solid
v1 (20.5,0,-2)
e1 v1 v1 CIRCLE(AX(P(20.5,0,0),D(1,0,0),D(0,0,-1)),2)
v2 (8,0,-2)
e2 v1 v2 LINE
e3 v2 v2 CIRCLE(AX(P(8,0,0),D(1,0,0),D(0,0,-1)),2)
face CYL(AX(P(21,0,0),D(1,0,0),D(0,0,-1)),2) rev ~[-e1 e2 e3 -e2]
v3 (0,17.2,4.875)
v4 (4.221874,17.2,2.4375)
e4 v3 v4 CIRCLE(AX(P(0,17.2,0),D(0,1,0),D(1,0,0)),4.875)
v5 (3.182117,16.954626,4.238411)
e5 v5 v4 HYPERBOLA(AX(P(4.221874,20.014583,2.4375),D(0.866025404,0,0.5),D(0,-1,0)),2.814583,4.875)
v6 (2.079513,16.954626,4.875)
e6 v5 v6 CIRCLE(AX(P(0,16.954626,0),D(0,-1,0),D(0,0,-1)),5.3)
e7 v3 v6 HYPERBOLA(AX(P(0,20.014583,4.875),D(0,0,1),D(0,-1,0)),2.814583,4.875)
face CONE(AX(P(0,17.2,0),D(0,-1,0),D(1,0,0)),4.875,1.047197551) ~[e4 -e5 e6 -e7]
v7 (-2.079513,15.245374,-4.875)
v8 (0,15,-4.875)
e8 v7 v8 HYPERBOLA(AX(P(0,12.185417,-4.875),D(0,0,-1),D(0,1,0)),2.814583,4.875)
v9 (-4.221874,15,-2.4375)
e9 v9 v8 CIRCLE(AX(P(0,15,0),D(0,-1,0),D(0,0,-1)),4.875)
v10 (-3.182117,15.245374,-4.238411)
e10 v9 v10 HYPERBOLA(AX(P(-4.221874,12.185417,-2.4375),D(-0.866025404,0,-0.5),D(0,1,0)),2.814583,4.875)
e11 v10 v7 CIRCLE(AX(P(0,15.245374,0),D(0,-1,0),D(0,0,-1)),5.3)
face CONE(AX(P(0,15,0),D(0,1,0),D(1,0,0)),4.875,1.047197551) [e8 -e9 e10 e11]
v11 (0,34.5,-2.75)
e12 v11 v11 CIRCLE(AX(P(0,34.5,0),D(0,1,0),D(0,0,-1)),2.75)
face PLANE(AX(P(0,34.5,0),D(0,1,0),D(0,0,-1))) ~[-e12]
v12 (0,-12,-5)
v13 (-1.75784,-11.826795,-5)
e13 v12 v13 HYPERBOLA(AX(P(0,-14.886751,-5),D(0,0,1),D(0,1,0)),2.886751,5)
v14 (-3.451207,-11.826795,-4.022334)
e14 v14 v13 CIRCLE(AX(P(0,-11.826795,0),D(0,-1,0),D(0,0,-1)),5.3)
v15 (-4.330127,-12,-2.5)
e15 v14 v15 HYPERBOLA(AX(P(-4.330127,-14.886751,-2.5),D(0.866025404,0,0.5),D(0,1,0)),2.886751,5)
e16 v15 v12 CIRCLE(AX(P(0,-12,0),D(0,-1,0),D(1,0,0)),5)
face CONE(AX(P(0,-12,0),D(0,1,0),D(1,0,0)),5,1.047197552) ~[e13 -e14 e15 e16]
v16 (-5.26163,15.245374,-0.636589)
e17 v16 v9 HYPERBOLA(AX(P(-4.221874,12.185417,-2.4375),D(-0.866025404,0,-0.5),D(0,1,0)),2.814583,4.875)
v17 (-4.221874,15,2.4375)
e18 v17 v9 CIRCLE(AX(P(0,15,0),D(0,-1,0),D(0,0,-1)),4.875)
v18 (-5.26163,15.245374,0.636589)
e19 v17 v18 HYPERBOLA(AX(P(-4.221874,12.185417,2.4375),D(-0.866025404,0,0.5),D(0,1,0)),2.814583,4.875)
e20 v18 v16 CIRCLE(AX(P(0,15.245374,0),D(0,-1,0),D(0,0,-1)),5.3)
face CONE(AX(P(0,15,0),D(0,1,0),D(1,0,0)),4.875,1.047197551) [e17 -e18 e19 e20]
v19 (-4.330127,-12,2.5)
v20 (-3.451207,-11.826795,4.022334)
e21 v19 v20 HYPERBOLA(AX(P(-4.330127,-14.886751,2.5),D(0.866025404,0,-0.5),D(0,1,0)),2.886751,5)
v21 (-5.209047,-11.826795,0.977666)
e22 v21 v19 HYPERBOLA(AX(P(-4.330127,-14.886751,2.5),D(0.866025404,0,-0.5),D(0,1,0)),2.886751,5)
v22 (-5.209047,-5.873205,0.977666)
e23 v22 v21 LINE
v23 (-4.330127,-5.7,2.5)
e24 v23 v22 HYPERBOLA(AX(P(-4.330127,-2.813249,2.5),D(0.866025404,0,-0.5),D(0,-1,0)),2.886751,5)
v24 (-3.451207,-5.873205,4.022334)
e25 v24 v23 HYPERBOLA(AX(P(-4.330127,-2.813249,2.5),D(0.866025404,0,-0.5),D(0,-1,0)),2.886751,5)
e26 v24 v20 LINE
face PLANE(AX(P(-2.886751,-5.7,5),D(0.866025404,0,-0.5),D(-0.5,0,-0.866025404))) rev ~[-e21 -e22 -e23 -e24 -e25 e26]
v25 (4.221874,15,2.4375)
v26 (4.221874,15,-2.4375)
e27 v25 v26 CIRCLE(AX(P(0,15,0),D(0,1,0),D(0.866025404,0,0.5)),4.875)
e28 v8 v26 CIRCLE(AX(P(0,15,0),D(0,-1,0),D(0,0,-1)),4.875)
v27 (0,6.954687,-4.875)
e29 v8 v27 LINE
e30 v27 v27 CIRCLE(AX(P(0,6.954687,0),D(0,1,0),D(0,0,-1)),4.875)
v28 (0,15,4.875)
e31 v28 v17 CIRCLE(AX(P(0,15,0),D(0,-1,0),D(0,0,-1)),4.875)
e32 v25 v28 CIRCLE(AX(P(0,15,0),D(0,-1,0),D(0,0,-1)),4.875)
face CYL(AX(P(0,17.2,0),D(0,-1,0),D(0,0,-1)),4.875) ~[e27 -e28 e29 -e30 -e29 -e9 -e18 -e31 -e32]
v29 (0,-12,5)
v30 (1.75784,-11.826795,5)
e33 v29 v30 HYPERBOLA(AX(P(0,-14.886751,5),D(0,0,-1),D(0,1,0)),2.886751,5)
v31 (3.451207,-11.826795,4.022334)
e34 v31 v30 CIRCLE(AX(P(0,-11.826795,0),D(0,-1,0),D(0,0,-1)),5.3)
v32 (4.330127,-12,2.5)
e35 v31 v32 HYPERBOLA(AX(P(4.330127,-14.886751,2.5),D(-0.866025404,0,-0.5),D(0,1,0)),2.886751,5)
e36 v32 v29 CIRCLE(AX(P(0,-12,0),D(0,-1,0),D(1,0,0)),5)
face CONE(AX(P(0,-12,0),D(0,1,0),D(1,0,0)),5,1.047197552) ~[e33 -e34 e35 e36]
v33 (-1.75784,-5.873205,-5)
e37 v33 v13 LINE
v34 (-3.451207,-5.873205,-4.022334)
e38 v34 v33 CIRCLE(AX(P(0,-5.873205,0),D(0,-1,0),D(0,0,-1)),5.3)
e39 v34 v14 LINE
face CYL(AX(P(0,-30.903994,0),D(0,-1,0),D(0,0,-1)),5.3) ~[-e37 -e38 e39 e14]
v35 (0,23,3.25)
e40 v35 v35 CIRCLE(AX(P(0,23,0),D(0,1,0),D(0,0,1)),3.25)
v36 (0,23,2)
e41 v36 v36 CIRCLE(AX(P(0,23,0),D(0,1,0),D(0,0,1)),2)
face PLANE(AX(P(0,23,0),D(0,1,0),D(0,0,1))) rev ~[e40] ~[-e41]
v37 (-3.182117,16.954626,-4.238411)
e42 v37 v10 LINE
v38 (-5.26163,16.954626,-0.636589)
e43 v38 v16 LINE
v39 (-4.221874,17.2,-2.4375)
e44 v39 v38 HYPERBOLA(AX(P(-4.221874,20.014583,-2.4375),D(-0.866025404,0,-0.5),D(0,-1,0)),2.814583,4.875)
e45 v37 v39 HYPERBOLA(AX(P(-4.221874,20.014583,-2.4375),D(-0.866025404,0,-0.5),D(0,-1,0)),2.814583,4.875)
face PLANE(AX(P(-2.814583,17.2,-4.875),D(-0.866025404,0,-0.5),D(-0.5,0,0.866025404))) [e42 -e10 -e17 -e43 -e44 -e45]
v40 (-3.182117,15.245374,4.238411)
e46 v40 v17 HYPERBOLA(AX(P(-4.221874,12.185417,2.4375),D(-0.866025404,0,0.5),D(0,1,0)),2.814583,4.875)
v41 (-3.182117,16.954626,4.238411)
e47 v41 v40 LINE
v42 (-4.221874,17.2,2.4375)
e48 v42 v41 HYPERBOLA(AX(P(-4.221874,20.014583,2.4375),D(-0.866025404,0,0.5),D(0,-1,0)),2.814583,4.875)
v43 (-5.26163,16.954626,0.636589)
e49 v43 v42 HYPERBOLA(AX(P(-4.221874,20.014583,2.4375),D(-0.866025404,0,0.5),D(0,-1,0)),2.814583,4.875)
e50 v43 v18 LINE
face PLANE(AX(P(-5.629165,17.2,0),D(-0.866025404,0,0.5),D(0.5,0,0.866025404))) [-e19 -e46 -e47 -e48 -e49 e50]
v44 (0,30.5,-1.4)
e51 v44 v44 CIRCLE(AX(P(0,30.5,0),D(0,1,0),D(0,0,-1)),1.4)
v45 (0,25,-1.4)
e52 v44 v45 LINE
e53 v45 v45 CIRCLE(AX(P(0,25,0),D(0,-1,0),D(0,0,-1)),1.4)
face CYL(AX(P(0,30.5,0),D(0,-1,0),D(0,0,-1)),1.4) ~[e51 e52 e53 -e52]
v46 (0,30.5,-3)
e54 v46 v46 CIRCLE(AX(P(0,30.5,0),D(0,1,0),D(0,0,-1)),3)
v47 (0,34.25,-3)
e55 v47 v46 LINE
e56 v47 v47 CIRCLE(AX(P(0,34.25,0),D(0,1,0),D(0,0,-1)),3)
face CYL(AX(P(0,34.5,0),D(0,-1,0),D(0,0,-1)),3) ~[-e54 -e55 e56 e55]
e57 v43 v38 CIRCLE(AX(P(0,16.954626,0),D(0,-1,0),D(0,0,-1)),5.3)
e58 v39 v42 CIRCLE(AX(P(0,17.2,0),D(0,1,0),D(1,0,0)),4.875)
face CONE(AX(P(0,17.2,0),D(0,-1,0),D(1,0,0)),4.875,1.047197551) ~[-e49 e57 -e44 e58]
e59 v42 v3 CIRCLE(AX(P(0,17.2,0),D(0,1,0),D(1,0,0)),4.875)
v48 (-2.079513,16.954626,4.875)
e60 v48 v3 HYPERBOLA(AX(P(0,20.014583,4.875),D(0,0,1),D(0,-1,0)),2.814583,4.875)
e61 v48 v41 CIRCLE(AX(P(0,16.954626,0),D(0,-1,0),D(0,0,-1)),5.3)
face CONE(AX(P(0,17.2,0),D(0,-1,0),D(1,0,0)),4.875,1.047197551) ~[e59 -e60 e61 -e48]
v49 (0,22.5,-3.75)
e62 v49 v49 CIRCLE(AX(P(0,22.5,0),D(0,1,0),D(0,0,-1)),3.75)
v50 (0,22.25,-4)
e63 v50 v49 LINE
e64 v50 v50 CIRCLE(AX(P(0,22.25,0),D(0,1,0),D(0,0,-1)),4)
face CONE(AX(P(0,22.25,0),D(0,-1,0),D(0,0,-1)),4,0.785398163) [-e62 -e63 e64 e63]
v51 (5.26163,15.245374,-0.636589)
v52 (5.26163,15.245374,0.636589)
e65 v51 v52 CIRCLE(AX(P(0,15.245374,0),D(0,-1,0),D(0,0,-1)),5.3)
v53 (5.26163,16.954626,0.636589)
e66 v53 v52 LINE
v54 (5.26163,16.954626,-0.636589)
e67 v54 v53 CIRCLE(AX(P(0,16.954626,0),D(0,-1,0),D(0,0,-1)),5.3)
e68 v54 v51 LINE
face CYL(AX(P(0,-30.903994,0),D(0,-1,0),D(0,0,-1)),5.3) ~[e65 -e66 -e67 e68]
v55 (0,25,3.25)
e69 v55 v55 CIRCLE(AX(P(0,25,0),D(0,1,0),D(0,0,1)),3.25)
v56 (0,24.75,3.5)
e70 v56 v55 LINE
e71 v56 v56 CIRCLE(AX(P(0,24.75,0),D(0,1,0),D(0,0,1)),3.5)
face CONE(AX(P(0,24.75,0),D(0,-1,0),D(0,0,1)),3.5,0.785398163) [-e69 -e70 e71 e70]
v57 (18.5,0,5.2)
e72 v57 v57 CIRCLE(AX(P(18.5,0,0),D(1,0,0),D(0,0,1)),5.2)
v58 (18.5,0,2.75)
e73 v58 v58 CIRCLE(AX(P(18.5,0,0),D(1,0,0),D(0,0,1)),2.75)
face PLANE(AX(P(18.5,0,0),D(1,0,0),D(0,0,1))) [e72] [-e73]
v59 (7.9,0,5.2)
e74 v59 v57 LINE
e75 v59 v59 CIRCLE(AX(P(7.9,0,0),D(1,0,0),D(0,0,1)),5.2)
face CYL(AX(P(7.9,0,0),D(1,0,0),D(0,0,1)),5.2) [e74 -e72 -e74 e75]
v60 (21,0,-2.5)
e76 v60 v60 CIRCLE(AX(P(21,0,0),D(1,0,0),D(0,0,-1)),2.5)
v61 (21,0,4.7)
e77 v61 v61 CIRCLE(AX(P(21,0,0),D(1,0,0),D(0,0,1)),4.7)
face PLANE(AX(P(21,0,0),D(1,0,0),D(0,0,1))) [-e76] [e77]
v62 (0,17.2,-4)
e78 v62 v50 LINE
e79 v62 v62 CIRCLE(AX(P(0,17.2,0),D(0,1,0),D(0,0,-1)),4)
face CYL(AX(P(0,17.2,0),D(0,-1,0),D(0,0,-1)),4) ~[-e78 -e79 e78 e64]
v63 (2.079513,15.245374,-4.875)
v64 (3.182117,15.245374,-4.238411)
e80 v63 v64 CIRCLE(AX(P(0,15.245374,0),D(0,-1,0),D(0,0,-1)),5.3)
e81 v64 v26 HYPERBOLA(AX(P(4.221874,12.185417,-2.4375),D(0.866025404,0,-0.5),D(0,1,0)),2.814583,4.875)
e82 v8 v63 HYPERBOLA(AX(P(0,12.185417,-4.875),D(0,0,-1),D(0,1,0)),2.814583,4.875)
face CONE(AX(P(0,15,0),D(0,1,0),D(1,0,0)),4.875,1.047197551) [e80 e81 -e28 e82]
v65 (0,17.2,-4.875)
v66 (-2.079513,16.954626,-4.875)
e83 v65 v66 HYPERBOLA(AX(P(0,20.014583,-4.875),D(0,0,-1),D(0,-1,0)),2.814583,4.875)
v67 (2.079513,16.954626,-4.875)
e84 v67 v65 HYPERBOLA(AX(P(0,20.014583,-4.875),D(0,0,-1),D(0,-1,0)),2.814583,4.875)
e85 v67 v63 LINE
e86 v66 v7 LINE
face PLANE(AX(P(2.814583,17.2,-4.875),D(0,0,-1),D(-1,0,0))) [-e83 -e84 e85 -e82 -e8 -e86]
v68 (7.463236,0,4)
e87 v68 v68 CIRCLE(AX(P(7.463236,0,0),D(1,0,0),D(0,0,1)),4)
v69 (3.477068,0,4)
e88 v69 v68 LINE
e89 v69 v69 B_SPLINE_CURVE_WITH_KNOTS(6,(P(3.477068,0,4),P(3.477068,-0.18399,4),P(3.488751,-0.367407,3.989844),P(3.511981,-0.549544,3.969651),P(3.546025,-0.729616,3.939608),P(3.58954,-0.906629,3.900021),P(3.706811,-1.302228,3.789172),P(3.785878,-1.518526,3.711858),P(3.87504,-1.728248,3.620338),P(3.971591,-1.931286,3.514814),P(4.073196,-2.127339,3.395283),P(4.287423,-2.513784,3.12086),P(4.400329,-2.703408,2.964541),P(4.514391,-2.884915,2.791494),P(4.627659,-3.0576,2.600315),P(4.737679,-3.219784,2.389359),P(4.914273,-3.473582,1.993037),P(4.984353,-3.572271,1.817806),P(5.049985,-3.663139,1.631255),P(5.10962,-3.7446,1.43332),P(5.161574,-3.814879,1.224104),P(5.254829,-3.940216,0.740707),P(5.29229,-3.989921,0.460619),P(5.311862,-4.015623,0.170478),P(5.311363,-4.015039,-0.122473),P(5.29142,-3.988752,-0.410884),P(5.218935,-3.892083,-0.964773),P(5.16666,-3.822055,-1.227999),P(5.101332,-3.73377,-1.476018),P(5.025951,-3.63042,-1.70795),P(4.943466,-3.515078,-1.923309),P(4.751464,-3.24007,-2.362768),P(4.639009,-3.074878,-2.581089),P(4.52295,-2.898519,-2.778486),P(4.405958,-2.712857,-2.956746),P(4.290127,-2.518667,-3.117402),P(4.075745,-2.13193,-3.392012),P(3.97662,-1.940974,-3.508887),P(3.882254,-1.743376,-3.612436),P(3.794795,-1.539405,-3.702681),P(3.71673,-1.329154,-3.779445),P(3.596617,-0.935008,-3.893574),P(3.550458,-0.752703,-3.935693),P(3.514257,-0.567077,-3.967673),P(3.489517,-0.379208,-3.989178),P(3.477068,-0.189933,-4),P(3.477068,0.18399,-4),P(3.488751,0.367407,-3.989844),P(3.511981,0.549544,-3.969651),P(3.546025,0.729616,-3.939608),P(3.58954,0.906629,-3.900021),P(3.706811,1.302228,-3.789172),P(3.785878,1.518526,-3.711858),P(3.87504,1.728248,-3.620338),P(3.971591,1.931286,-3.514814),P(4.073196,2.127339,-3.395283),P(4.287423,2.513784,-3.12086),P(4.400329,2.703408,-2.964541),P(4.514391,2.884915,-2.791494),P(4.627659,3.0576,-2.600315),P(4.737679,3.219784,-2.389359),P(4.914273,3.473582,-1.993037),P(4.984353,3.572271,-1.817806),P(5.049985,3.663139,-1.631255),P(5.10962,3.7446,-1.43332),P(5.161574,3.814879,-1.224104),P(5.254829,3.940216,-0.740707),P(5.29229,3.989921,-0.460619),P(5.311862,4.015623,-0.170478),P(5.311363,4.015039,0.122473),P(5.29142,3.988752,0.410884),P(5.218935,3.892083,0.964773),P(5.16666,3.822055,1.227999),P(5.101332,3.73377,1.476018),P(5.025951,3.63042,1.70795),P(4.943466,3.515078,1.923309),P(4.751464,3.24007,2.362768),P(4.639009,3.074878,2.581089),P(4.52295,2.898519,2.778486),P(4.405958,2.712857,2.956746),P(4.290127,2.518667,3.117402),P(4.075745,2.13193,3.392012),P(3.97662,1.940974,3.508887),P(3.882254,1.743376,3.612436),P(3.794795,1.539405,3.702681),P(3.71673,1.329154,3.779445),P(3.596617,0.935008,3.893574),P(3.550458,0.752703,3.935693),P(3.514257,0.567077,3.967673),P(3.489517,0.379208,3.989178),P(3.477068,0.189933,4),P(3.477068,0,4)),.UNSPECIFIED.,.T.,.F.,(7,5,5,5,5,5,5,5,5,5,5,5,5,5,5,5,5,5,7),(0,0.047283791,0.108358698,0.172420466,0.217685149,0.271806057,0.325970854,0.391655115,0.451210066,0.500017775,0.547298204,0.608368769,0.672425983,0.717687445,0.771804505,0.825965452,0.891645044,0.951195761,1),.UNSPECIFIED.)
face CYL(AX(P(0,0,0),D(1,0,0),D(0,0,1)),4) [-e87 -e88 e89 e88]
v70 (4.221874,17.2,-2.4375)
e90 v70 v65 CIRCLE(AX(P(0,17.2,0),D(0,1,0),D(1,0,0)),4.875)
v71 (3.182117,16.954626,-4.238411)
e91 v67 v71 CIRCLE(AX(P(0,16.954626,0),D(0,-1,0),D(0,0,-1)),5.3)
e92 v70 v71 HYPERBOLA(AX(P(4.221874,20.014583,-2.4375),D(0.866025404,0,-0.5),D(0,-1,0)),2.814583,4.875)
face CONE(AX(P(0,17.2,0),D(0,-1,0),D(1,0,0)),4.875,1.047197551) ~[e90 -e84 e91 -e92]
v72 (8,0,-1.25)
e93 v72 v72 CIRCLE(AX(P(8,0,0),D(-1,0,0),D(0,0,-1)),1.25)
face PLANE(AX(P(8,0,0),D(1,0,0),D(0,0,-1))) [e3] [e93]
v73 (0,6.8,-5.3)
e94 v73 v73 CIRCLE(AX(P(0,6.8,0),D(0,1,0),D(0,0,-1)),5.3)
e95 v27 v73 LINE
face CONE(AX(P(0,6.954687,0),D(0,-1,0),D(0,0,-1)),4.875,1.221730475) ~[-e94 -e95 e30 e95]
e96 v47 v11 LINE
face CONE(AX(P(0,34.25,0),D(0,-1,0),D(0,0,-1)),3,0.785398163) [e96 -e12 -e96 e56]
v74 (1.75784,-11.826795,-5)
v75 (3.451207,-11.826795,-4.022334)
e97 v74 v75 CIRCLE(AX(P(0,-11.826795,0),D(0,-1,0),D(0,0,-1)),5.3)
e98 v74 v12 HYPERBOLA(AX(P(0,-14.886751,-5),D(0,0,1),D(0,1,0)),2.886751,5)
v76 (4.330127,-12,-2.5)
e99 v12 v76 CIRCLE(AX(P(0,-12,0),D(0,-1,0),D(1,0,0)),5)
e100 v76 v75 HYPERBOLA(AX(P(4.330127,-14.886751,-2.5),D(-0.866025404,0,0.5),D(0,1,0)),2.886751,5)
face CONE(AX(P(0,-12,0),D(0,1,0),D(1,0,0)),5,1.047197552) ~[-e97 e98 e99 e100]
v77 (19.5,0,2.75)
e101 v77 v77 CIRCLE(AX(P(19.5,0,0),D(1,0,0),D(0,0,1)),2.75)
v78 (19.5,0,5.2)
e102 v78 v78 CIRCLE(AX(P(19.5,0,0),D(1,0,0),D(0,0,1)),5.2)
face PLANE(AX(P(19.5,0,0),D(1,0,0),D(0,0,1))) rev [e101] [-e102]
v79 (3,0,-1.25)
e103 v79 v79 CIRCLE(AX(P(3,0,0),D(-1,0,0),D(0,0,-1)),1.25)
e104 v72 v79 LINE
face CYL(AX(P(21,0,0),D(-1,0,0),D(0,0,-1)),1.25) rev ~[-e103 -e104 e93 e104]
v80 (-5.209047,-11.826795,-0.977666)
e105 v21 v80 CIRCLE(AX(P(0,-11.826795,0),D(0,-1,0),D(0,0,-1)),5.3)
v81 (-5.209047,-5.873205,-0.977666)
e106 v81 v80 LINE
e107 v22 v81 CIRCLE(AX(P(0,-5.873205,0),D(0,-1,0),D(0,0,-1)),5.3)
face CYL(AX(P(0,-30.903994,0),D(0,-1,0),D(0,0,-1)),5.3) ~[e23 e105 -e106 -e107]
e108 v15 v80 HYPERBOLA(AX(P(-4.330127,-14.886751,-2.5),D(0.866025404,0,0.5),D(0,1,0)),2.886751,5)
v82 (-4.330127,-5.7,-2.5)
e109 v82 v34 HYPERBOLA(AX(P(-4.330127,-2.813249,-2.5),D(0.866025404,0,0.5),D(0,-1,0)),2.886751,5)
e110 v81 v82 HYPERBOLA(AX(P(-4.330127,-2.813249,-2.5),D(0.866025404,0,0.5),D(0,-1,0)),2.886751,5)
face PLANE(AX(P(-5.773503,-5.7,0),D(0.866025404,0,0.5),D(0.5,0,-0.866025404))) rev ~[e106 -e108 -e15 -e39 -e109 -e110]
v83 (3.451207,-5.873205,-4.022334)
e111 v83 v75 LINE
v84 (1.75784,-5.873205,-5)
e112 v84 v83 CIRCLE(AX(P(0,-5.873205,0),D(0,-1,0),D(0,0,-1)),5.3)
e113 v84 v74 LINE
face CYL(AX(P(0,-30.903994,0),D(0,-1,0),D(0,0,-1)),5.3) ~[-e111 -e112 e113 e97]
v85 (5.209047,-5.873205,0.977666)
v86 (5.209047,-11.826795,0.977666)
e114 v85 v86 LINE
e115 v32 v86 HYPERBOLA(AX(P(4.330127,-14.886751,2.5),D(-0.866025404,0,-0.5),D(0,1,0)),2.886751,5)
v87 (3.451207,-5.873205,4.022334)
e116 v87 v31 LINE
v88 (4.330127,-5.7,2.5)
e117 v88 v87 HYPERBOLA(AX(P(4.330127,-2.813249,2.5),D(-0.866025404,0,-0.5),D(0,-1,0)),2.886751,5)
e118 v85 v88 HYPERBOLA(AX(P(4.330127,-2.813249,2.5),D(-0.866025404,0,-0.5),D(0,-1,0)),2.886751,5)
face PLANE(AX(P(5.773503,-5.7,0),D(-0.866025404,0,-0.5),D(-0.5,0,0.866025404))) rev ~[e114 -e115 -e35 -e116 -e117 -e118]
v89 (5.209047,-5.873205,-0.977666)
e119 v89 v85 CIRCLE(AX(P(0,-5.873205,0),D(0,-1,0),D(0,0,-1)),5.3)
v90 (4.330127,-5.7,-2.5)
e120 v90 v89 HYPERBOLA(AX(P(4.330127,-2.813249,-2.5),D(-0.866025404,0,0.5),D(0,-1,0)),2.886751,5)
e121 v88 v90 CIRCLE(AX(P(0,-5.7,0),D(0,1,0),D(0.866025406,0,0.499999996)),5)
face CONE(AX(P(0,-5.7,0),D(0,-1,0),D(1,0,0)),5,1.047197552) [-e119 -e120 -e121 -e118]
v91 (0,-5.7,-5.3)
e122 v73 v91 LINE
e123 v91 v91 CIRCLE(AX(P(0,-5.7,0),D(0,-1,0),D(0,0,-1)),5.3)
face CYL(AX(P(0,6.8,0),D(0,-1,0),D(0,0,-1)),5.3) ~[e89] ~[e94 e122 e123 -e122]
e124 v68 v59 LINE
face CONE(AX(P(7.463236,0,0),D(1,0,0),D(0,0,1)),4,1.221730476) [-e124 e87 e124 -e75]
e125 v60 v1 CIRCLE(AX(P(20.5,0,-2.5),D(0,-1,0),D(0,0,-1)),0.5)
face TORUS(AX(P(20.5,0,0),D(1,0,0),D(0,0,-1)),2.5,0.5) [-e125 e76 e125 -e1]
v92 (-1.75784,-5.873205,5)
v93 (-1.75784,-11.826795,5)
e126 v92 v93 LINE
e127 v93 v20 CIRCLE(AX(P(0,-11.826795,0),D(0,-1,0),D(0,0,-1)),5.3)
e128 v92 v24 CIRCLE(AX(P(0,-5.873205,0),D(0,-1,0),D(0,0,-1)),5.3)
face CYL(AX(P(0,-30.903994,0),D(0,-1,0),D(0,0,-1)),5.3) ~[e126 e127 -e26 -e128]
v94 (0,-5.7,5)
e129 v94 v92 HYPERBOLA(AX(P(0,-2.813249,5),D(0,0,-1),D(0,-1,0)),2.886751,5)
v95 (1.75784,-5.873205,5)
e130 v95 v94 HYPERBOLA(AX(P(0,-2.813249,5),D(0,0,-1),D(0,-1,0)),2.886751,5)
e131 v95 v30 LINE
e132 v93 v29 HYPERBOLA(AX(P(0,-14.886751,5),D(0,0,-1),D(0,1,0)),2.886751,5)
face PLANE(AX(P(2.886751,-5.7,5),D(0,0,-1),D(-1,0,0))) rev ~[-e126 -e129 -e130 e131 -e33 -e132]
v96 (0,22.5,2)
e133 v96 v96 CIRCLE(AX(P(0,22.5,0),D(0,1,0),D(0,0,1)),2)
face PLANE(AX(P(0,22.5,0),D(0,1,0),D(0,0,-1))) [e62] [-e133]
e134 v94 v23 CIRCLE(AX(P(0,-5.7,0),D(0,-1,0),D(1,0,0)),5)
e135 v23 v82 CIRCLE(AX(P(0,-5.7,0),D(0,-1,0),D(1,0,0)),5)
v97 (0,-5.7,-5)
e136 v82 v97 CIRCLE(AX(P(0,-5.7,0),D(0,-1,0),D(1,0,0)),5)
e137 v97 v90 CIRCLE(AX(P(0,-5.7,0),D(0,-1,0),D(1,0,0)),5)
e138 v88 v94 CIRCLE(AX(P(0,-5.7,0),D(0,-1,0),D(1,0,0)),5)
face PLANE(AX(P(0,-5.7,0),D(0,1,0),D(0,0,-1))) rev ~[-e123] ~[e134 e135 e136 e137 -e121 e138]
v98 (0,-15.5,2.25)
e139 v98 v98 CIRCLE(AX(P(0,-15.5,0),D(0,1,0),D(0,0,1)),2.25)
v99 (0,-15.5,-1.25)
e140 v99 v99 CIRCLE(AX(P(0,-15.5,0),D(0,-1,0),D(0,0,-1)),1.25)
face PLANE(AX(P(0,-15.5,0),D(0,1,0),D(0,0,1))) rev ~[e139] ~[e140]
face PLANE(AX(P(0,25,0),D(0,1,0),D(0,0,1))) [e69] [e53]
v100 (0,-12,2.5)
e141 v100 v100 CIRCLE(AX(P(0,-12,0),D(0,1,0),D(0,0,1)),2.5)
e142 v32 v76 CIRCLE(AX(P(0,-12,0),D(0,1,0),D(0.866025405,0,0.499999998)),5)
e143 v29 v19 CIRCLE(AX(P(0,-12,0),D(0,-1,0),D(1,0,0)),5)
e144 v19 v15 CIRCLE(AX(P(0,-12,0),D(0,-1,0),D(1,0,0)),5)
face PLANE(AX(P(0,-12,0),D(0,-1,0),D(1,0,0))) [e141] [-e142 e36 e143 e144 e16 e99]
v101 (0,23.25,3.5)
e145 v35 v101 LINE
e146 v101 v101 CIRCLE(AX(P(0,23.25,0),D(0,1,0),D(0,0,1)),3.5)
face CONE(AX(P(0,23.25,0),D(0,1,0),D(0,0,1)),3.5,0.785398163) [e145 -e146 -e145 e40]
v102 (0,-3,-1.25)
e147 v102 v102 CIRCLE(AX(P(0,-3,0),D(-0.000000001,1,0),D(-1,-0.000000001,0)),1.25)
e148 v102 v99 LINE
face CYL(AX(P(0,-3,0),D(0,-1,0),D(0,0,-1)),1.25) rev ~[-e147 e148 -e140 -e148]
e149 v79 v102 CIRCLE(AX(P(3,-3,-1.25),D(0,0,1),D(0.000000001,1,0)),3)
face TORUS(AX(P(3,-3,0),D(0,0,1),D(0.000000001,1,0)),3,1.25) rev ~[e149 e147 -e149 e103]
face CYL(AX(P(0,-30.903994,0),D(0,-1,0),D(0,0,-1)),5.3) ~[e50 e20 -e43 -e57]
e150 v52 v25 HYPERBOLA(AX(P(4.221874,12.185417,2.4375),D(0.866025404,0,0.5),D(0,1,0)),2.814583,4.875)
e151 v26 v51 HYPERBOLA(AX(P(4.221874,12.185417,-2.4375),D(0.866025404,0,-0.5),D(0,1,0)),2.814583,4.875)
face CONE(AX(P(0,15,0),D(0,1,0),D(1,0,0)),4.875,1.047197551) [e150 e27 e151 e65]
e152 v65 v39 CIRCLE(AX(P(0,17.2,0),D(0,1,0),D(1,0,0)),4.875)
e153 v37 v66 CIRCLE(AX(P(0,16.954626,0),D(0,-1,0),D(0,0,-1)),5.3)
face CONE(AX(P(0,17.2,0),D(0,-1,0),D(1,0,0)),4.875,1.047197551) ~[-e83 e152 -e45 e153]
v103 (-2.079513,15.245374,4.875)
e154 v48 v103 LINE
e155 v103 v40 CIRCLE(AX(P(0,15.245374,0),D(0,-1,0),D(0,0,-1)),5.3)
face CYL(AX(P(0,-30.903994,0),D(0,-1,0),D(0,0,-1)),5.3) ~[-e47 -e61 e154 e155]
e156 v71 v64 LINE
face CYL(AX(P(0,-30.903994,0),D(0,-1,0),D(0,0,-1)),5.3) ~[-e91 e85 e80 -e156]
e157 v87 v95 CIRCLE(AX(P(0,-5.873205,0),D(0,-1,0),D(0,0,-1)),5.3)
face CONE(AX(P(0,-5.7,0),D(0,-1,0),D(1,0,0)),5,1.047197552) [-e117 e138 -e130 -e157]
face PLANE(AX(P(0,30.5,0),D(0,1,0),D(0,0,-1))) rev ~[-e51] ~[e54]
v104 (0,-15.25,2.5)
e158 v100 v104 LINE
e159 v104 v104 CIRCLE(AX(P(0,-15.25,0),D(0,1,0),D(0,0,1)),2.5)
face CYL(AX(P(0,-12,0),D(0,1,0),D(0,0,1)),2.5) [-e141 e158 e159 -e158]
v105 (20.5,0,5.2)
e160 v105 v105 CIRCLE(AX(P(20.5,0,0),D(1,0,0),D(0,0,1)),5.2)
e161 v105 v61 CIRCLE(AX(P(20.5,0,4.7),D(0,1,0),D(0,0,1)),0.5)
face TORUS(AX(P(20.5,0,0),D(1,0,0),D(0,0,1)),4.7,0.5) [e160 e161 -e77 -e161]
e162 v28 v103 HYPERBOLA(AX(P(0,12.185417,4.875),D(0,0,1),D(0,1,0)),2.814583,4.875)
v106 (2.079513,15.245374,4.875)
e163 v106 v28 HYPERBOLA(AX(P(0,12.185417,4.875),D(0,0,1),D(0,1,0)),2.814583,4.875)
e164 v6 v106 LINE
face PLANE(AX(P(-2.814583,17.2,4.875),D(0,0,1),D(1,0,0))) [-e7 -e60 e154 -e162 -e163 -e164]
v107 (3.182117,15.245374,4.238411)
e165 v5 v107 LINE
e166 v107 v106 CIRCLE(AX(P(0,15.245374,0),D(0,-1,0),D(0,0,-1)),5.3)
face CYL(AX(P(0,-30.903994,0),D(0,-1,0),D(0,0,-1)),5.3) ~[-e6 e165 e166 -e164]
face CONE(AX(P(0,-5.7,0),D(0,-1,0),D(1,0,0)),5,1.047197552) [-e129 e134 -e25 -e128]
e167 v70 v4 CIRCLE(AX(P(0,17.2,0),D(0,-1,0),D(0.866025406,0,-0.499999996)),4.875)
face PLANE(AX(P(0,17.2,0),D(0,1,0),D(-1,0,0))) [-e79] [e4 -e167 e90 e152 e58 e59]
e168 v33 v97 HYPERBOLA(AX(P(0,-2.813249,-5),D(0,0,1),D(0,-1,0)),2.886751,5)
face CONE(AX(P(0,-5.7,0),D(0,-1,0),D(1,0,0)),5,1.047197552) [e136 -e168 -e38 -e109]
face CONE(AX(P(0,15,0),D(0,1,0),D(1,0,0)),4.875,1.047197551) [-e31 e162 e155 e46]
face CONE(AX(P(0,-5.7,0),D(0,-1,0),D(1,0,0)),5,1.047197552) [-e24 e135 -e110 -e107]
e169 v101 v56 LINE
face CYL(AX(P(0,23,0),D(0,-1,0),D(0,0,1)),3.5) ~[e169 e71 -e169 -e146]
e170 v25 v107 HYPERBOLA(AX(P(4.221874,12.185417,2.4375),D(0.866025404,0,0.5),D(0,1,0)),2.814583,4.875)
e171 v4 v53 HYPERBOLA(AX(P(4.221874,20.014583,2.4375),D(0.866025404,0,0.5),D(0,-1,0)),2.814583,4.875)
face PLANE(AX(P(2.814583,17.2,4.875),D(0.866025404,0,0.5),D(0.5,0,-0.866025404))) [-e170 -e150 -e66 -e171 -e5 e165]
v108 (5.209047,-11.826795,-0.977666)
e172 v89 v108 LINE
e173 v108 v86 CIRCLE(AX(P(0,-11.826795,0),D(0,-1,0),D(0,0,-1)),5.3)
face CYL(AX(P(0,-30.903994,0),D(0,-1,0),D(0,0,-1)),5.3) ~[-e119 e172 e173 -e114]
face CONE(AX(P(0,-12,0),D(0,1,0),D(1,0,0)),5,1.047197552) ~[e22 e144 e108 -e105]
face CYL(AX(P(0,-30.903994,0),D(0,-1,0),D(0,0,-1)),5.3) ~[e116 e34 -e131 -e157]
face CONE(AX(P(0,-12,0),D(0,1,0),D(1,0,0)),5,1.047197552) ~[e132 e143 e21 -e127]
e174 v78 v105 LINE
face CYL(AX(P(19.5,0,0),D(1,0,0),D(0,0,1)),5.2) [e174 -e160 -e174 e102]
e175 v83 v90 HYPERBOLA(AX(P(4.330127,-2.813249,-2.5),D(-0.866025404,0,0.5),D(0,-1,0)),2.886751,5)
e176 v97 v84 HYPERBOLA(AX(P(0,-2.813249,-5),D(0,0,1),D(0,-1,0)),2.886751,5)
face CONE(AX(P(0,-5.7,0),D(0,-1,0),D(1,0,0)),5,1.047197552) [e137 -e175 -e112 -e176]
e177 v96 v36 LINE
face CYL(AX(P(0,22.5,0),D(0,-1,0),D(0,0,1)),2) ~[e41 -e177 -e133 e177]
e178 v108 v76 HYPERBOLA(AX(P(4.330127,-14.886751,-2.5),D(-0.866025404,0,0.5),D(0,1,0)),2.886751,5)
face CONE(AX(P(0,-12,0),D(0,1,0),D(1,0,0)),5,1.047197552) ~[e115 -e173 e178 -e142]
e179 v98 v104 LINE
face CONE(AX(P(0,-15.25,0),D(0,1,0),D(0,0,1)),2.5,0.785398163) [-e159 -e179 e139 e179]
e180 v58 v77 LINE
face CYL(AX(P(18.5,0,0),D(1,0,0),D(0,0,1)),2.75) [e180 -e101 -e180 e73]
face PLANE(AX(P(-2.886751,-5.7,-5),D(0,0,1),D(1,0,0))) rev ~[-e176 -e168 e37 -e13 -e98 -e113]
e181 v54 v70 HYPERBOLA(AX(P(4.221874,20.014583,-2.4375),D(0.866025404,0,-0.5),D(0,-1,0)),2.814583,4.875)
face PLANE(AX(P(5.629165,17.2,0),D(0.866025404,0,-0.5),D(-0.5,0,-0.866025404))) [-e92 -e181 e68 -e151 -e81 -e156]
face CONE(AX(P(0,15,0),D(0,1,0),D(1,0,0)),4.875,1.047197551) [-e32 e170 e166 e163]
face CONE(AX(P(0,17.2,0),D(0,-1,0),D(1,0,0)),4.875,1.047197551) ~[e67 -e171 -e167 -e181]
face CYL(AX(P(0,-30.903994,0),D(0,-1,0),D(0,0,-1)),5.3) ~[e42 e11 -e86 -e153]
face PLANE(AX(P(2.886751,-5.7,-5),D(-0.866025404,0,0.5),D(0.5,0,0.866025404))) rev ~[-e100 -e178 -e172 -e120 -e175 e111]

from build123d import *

# Parameters (mm, degrees)
NUT_TOP_DEPTH               = 2.2
NUT_BOT_DEPTH               = 6.3
NUT_ROUNDS_DEPTH            = 25.203994161
NUT_ROUNDS_DEPTH_BACK       = 25.203994161
NUT_ROUNDS_SKETCH_OUTSIDE_W = 20.176
NUT_ROUNDS_SKETCH_OUTSIDE_H = 19.228
NUT_ROUNDS_SKETCH_OUTSIDE_R = 5.3
THREADS_SKETCH_R            = 2.5
THREADS_DEPTH               = 3.5
THREADS_MGT_SKETCH_R        = 4
THREADS_MGT_DEPTH           = 5.3
LOC_SPACER_SKETCH_R         = 2
LOC_SPACER_DEPTH            = 0.5
LOC_ADJUSTER_SKETCH_R       = 3.5
LOC_ADJUSTER_DEPTH          = 2
TUBE_SKETCH_R               = 2
TUBE_DEPTH                  = 13
TUBE_ROUDS_R                = 0.5
PROFILE_PORT_R              = 1.25
CHAM_SIZE                   = 0.25


with BuildPart() as part:
    # MBody_Sketch → MBody (revolve)
    with BuildSketch(Plane.XY, mode=Mode.PRIVATE) as mbody_sk:
        Polygon((0, 17.2), (-4.875, 17.2), (-4.875, 6.95468735), (-5.3, 6.8), (-5.3, -5.7), (0, -5.7), align=None)
    revolve(mbody_sk.sketch.rotate(Axis((0, 0, 0), (0, 1, 0)), 270), axis=Axis((0, 0, 0), (0, 1, 0)))

    # Nut Top_Sketch → Nut Top (add)
    with BuildSketch(Plane(origin=(0, 17.2, 0), x_dir=(-1, 0, 0), z_dir=(0, 1, 0))):
        Polygon((-2.814582562, 4.875), (-5.629165125, 0), (-2.814582562, -4.875), (2.814582562, -4.875), (5.629165125, 0), (2.814582562, 4.875), align=None)
    extrude(amount=-NUT_TOP_DEPTH)

    # Nut Cham Top_Sketch → Nut Cham Top (revolve, cut)
    with BuildSketch(Plane.XY):
        Polygon((5.629165125, 17.2), (4.875, 17.2), (5.629165125, 16.764582562), align=None)
        Polygon((5.629165125, 15.435417438), (5.629165125, 15), (4.875, 15), align=None)
    revolve(axis=Axis((0, 0, 0), (0, 1, 0)), mode=Mode.SUBTRACT)

    # Nut Bot_Sketch → Nut Bot (add)
    with BuildSketch(Plane.XZ.offset(5.7)):
        Polygon((2.886751346, -5), (5.773502692, 0), (2.886751346, 5), (-2.886751346, 5), (-5.773502692, 0), (-2.886751346, -5), align=None)
    extrude(amount=NUT_BOT_DEPTH)

    # Nut Cham Bot_Sketch → Nut Cham Bot (revolve, cut)
    with BuildSketch(Plane.XY):
        Polygon((5.773502692, -5.7), (5, -5.7), (5.773502692, -6.146581987), align=None)
        Polygon((5.773502692, -11.553418013), (5.773502692, -12), (5, -12), align=None)
    revolve(axis=Axis((0, -2.270147765, 0), (0, -1, 0)), mode=Mode.SUBTRACT)

    # Nut Rounds_Sketch outside → Nut Rounds (cut, two sides: drawn at the far end of the back side and taken through both)
    with BuildSketch(Plane(origin=(0, -5.7, 0), x_dir=(-1, 0, 0), z_dir=(0, 1, 0)).offset(-NUT_ROUNDS_DEPTH_BACK)):
        Rectangle(NUT_ROUNDS_SKETCH_OUTSIDE_W, NUT_ROUNDS_SKETCH_OUTSIDE_H)
        with Locations(Location((0, 0, 0), (0, 0, 270))):
            Circle(NUT_ROUNDS_SKETCH_OUTSIDE_R, mode=Mode.SUBTRACT)
    extrude(amount=NUT_ROUNDS_DEPTH + NUT_ROUNDS_DEPTH_BACK, mode=Mode.SUBTRACT)

    # Threads_Sketch → Threads (add)
    with BuildSketch(Plane(origin=(0, -12, 0), x_dir=(-1, 0, 0), z_dir=(0, 1, 0))):
        with Locations(Location((0, 0, 0), (0, 0, 90))):
            Circle(THREADS_SKETCH_R)
    extrude(amount=-THREADS_DEPTH)

    # Threads MGT_Sketch → Threads MGT (add)
    with BuildSketch(Plane(origin=(0, 17.2, 0), x_dir=(-1, 0, 0), z_dir=(0, 1, 0))):
        with Locations(Location((0, 0, 0), (0, 0, 270))):
            Circle(THREADS_MGT_SKETCH_R)
    extrude(amount=THREADS_MGT_DEPTH)

    # Adjuster_Sketch → Adjuster (revolve)
    with BuildSketch(Plane.XY, mode=Mode.PRIVATE) as adjuster_sk:
        Polygon((0, 17.2), (0, 34.5), (3, 34.5), (3, 30.5), (1.4, 30.5), (1.4, 17.2), align=None)
    revolve(adjuster_sk.sketch.rotate(Axis((0, 0, 0), (0, 1, 0)), 90), axis=Axis((0, 0, 0), (0, 1, 0)))

    # Loc Spacer_Sketch → Loc Spacer (add)
    with BuildSketch(Plane(origin=(0, 22.5, 0), x_dir=(-1, 0, 0), z_dir=(0, 1, 0))):
        with Locations(Location((0, 0, 0), (0, 0, 90))):
            Circle(LOC_SPACER_SKETCH_R)
    extrude(amount=LOC_SPACER_DEPTH)

    # Loc Adjuster_Sketch → Loc Adjuster (add)
    with BuildSketch(Plane(origin=(0, 23, 0), x_dir=(-1, 0, 0), z_dir=(0, 1, 0))):
        with Locations(Location((0, 0, 0), (0, 0, 90))):
            Circle(LOC_ADJUSTER_SKETCH_R)
    extrude(amount=LOC_ADJUSTER_DEPTH)

    # RBody_Sketch → RBody (revolve)
    with BuildSketch(Plane.XY, mode=Mode.PRIVATE) as rbody_sk:
        Polygon((0, 0), (0, 4), (7.463235719, 4), (7.9, 5.2), (18.5, 5.2), (18.5, 0), align=None)
    revolve(rbody_sk.sketch.rotate(Axis((0, 0, 0), (1, 0, 0)), 90), axis=Axis((0, 0, 0), (1, 0, 0)))

    # Release_Sketch → Release (revolve)
    with BuildSketch(Plane.XY, mode=Mode.PRIVATE) as release_sk:
        Polygon((18.5, 0), (18.5, 2.75), (19.5, 2.75), (19.5, 5.2), (21, 5.2), (21, 0), align=None)
    revolve(release_sk.sketch.rotate(Axis((0, 0, 0), (1, 0, 0)), 90), axis=Axis((0, 0, 0), (1, 0, 0)))

    # Tube_Sketch → Tube (cut)
    with BuildSketch(Plane(origin=(21, 0, 0), x_dir=(0, 0, -1), z_dir=(1, 0, 0))):
        Circle(TUBE_SKETCH_R)
    extrude(amount=-TUBE_DEPTH, mode=Mode.SUBTRACT)

    # Tube Rouds
    tube_rouds_edges = [part.edges().sort_by_distance(p)[0] for p in [
        (21, 0, -5.2),
        (21, 0, 2),
    ]]
    fillet(tube_rouds_edges, radius=TUBE_ROUDS_R)

    # Port: sweep along a path in Path Port
    with BuildLine(Plane.XY) as port_path:
        Line((21, 0), (3, 0))
        ThreePointArc((3, 0), (0.878679656, -0.878679656), (0, -3))
        Line((0, -3), (0, -15.5))
    # Profile Port → Port (sweep, cut)
    with BuildSketch(Plane(origin=(21, 0, 0), x_dir=(0, 0, -1), z_dir=(1, 0, 0))):
        Circle(PROFILE_PORT_R)
    sweep(path=port_path.line, mode=Mode.SUBTRACT)

    # Cham
    cham_edges = [part.edges().sort_by_distance(p)[0] for p in [
        (0, -15.5, -2.5),
        (0, 22.5, 4),
        (0, 34.5, 3),
        (0, 23, -3.5),
        (0, 25, -3.5),
    ]]
    chamfer(cham_edges, length=CHAM_SIZE)


solid = part.part
